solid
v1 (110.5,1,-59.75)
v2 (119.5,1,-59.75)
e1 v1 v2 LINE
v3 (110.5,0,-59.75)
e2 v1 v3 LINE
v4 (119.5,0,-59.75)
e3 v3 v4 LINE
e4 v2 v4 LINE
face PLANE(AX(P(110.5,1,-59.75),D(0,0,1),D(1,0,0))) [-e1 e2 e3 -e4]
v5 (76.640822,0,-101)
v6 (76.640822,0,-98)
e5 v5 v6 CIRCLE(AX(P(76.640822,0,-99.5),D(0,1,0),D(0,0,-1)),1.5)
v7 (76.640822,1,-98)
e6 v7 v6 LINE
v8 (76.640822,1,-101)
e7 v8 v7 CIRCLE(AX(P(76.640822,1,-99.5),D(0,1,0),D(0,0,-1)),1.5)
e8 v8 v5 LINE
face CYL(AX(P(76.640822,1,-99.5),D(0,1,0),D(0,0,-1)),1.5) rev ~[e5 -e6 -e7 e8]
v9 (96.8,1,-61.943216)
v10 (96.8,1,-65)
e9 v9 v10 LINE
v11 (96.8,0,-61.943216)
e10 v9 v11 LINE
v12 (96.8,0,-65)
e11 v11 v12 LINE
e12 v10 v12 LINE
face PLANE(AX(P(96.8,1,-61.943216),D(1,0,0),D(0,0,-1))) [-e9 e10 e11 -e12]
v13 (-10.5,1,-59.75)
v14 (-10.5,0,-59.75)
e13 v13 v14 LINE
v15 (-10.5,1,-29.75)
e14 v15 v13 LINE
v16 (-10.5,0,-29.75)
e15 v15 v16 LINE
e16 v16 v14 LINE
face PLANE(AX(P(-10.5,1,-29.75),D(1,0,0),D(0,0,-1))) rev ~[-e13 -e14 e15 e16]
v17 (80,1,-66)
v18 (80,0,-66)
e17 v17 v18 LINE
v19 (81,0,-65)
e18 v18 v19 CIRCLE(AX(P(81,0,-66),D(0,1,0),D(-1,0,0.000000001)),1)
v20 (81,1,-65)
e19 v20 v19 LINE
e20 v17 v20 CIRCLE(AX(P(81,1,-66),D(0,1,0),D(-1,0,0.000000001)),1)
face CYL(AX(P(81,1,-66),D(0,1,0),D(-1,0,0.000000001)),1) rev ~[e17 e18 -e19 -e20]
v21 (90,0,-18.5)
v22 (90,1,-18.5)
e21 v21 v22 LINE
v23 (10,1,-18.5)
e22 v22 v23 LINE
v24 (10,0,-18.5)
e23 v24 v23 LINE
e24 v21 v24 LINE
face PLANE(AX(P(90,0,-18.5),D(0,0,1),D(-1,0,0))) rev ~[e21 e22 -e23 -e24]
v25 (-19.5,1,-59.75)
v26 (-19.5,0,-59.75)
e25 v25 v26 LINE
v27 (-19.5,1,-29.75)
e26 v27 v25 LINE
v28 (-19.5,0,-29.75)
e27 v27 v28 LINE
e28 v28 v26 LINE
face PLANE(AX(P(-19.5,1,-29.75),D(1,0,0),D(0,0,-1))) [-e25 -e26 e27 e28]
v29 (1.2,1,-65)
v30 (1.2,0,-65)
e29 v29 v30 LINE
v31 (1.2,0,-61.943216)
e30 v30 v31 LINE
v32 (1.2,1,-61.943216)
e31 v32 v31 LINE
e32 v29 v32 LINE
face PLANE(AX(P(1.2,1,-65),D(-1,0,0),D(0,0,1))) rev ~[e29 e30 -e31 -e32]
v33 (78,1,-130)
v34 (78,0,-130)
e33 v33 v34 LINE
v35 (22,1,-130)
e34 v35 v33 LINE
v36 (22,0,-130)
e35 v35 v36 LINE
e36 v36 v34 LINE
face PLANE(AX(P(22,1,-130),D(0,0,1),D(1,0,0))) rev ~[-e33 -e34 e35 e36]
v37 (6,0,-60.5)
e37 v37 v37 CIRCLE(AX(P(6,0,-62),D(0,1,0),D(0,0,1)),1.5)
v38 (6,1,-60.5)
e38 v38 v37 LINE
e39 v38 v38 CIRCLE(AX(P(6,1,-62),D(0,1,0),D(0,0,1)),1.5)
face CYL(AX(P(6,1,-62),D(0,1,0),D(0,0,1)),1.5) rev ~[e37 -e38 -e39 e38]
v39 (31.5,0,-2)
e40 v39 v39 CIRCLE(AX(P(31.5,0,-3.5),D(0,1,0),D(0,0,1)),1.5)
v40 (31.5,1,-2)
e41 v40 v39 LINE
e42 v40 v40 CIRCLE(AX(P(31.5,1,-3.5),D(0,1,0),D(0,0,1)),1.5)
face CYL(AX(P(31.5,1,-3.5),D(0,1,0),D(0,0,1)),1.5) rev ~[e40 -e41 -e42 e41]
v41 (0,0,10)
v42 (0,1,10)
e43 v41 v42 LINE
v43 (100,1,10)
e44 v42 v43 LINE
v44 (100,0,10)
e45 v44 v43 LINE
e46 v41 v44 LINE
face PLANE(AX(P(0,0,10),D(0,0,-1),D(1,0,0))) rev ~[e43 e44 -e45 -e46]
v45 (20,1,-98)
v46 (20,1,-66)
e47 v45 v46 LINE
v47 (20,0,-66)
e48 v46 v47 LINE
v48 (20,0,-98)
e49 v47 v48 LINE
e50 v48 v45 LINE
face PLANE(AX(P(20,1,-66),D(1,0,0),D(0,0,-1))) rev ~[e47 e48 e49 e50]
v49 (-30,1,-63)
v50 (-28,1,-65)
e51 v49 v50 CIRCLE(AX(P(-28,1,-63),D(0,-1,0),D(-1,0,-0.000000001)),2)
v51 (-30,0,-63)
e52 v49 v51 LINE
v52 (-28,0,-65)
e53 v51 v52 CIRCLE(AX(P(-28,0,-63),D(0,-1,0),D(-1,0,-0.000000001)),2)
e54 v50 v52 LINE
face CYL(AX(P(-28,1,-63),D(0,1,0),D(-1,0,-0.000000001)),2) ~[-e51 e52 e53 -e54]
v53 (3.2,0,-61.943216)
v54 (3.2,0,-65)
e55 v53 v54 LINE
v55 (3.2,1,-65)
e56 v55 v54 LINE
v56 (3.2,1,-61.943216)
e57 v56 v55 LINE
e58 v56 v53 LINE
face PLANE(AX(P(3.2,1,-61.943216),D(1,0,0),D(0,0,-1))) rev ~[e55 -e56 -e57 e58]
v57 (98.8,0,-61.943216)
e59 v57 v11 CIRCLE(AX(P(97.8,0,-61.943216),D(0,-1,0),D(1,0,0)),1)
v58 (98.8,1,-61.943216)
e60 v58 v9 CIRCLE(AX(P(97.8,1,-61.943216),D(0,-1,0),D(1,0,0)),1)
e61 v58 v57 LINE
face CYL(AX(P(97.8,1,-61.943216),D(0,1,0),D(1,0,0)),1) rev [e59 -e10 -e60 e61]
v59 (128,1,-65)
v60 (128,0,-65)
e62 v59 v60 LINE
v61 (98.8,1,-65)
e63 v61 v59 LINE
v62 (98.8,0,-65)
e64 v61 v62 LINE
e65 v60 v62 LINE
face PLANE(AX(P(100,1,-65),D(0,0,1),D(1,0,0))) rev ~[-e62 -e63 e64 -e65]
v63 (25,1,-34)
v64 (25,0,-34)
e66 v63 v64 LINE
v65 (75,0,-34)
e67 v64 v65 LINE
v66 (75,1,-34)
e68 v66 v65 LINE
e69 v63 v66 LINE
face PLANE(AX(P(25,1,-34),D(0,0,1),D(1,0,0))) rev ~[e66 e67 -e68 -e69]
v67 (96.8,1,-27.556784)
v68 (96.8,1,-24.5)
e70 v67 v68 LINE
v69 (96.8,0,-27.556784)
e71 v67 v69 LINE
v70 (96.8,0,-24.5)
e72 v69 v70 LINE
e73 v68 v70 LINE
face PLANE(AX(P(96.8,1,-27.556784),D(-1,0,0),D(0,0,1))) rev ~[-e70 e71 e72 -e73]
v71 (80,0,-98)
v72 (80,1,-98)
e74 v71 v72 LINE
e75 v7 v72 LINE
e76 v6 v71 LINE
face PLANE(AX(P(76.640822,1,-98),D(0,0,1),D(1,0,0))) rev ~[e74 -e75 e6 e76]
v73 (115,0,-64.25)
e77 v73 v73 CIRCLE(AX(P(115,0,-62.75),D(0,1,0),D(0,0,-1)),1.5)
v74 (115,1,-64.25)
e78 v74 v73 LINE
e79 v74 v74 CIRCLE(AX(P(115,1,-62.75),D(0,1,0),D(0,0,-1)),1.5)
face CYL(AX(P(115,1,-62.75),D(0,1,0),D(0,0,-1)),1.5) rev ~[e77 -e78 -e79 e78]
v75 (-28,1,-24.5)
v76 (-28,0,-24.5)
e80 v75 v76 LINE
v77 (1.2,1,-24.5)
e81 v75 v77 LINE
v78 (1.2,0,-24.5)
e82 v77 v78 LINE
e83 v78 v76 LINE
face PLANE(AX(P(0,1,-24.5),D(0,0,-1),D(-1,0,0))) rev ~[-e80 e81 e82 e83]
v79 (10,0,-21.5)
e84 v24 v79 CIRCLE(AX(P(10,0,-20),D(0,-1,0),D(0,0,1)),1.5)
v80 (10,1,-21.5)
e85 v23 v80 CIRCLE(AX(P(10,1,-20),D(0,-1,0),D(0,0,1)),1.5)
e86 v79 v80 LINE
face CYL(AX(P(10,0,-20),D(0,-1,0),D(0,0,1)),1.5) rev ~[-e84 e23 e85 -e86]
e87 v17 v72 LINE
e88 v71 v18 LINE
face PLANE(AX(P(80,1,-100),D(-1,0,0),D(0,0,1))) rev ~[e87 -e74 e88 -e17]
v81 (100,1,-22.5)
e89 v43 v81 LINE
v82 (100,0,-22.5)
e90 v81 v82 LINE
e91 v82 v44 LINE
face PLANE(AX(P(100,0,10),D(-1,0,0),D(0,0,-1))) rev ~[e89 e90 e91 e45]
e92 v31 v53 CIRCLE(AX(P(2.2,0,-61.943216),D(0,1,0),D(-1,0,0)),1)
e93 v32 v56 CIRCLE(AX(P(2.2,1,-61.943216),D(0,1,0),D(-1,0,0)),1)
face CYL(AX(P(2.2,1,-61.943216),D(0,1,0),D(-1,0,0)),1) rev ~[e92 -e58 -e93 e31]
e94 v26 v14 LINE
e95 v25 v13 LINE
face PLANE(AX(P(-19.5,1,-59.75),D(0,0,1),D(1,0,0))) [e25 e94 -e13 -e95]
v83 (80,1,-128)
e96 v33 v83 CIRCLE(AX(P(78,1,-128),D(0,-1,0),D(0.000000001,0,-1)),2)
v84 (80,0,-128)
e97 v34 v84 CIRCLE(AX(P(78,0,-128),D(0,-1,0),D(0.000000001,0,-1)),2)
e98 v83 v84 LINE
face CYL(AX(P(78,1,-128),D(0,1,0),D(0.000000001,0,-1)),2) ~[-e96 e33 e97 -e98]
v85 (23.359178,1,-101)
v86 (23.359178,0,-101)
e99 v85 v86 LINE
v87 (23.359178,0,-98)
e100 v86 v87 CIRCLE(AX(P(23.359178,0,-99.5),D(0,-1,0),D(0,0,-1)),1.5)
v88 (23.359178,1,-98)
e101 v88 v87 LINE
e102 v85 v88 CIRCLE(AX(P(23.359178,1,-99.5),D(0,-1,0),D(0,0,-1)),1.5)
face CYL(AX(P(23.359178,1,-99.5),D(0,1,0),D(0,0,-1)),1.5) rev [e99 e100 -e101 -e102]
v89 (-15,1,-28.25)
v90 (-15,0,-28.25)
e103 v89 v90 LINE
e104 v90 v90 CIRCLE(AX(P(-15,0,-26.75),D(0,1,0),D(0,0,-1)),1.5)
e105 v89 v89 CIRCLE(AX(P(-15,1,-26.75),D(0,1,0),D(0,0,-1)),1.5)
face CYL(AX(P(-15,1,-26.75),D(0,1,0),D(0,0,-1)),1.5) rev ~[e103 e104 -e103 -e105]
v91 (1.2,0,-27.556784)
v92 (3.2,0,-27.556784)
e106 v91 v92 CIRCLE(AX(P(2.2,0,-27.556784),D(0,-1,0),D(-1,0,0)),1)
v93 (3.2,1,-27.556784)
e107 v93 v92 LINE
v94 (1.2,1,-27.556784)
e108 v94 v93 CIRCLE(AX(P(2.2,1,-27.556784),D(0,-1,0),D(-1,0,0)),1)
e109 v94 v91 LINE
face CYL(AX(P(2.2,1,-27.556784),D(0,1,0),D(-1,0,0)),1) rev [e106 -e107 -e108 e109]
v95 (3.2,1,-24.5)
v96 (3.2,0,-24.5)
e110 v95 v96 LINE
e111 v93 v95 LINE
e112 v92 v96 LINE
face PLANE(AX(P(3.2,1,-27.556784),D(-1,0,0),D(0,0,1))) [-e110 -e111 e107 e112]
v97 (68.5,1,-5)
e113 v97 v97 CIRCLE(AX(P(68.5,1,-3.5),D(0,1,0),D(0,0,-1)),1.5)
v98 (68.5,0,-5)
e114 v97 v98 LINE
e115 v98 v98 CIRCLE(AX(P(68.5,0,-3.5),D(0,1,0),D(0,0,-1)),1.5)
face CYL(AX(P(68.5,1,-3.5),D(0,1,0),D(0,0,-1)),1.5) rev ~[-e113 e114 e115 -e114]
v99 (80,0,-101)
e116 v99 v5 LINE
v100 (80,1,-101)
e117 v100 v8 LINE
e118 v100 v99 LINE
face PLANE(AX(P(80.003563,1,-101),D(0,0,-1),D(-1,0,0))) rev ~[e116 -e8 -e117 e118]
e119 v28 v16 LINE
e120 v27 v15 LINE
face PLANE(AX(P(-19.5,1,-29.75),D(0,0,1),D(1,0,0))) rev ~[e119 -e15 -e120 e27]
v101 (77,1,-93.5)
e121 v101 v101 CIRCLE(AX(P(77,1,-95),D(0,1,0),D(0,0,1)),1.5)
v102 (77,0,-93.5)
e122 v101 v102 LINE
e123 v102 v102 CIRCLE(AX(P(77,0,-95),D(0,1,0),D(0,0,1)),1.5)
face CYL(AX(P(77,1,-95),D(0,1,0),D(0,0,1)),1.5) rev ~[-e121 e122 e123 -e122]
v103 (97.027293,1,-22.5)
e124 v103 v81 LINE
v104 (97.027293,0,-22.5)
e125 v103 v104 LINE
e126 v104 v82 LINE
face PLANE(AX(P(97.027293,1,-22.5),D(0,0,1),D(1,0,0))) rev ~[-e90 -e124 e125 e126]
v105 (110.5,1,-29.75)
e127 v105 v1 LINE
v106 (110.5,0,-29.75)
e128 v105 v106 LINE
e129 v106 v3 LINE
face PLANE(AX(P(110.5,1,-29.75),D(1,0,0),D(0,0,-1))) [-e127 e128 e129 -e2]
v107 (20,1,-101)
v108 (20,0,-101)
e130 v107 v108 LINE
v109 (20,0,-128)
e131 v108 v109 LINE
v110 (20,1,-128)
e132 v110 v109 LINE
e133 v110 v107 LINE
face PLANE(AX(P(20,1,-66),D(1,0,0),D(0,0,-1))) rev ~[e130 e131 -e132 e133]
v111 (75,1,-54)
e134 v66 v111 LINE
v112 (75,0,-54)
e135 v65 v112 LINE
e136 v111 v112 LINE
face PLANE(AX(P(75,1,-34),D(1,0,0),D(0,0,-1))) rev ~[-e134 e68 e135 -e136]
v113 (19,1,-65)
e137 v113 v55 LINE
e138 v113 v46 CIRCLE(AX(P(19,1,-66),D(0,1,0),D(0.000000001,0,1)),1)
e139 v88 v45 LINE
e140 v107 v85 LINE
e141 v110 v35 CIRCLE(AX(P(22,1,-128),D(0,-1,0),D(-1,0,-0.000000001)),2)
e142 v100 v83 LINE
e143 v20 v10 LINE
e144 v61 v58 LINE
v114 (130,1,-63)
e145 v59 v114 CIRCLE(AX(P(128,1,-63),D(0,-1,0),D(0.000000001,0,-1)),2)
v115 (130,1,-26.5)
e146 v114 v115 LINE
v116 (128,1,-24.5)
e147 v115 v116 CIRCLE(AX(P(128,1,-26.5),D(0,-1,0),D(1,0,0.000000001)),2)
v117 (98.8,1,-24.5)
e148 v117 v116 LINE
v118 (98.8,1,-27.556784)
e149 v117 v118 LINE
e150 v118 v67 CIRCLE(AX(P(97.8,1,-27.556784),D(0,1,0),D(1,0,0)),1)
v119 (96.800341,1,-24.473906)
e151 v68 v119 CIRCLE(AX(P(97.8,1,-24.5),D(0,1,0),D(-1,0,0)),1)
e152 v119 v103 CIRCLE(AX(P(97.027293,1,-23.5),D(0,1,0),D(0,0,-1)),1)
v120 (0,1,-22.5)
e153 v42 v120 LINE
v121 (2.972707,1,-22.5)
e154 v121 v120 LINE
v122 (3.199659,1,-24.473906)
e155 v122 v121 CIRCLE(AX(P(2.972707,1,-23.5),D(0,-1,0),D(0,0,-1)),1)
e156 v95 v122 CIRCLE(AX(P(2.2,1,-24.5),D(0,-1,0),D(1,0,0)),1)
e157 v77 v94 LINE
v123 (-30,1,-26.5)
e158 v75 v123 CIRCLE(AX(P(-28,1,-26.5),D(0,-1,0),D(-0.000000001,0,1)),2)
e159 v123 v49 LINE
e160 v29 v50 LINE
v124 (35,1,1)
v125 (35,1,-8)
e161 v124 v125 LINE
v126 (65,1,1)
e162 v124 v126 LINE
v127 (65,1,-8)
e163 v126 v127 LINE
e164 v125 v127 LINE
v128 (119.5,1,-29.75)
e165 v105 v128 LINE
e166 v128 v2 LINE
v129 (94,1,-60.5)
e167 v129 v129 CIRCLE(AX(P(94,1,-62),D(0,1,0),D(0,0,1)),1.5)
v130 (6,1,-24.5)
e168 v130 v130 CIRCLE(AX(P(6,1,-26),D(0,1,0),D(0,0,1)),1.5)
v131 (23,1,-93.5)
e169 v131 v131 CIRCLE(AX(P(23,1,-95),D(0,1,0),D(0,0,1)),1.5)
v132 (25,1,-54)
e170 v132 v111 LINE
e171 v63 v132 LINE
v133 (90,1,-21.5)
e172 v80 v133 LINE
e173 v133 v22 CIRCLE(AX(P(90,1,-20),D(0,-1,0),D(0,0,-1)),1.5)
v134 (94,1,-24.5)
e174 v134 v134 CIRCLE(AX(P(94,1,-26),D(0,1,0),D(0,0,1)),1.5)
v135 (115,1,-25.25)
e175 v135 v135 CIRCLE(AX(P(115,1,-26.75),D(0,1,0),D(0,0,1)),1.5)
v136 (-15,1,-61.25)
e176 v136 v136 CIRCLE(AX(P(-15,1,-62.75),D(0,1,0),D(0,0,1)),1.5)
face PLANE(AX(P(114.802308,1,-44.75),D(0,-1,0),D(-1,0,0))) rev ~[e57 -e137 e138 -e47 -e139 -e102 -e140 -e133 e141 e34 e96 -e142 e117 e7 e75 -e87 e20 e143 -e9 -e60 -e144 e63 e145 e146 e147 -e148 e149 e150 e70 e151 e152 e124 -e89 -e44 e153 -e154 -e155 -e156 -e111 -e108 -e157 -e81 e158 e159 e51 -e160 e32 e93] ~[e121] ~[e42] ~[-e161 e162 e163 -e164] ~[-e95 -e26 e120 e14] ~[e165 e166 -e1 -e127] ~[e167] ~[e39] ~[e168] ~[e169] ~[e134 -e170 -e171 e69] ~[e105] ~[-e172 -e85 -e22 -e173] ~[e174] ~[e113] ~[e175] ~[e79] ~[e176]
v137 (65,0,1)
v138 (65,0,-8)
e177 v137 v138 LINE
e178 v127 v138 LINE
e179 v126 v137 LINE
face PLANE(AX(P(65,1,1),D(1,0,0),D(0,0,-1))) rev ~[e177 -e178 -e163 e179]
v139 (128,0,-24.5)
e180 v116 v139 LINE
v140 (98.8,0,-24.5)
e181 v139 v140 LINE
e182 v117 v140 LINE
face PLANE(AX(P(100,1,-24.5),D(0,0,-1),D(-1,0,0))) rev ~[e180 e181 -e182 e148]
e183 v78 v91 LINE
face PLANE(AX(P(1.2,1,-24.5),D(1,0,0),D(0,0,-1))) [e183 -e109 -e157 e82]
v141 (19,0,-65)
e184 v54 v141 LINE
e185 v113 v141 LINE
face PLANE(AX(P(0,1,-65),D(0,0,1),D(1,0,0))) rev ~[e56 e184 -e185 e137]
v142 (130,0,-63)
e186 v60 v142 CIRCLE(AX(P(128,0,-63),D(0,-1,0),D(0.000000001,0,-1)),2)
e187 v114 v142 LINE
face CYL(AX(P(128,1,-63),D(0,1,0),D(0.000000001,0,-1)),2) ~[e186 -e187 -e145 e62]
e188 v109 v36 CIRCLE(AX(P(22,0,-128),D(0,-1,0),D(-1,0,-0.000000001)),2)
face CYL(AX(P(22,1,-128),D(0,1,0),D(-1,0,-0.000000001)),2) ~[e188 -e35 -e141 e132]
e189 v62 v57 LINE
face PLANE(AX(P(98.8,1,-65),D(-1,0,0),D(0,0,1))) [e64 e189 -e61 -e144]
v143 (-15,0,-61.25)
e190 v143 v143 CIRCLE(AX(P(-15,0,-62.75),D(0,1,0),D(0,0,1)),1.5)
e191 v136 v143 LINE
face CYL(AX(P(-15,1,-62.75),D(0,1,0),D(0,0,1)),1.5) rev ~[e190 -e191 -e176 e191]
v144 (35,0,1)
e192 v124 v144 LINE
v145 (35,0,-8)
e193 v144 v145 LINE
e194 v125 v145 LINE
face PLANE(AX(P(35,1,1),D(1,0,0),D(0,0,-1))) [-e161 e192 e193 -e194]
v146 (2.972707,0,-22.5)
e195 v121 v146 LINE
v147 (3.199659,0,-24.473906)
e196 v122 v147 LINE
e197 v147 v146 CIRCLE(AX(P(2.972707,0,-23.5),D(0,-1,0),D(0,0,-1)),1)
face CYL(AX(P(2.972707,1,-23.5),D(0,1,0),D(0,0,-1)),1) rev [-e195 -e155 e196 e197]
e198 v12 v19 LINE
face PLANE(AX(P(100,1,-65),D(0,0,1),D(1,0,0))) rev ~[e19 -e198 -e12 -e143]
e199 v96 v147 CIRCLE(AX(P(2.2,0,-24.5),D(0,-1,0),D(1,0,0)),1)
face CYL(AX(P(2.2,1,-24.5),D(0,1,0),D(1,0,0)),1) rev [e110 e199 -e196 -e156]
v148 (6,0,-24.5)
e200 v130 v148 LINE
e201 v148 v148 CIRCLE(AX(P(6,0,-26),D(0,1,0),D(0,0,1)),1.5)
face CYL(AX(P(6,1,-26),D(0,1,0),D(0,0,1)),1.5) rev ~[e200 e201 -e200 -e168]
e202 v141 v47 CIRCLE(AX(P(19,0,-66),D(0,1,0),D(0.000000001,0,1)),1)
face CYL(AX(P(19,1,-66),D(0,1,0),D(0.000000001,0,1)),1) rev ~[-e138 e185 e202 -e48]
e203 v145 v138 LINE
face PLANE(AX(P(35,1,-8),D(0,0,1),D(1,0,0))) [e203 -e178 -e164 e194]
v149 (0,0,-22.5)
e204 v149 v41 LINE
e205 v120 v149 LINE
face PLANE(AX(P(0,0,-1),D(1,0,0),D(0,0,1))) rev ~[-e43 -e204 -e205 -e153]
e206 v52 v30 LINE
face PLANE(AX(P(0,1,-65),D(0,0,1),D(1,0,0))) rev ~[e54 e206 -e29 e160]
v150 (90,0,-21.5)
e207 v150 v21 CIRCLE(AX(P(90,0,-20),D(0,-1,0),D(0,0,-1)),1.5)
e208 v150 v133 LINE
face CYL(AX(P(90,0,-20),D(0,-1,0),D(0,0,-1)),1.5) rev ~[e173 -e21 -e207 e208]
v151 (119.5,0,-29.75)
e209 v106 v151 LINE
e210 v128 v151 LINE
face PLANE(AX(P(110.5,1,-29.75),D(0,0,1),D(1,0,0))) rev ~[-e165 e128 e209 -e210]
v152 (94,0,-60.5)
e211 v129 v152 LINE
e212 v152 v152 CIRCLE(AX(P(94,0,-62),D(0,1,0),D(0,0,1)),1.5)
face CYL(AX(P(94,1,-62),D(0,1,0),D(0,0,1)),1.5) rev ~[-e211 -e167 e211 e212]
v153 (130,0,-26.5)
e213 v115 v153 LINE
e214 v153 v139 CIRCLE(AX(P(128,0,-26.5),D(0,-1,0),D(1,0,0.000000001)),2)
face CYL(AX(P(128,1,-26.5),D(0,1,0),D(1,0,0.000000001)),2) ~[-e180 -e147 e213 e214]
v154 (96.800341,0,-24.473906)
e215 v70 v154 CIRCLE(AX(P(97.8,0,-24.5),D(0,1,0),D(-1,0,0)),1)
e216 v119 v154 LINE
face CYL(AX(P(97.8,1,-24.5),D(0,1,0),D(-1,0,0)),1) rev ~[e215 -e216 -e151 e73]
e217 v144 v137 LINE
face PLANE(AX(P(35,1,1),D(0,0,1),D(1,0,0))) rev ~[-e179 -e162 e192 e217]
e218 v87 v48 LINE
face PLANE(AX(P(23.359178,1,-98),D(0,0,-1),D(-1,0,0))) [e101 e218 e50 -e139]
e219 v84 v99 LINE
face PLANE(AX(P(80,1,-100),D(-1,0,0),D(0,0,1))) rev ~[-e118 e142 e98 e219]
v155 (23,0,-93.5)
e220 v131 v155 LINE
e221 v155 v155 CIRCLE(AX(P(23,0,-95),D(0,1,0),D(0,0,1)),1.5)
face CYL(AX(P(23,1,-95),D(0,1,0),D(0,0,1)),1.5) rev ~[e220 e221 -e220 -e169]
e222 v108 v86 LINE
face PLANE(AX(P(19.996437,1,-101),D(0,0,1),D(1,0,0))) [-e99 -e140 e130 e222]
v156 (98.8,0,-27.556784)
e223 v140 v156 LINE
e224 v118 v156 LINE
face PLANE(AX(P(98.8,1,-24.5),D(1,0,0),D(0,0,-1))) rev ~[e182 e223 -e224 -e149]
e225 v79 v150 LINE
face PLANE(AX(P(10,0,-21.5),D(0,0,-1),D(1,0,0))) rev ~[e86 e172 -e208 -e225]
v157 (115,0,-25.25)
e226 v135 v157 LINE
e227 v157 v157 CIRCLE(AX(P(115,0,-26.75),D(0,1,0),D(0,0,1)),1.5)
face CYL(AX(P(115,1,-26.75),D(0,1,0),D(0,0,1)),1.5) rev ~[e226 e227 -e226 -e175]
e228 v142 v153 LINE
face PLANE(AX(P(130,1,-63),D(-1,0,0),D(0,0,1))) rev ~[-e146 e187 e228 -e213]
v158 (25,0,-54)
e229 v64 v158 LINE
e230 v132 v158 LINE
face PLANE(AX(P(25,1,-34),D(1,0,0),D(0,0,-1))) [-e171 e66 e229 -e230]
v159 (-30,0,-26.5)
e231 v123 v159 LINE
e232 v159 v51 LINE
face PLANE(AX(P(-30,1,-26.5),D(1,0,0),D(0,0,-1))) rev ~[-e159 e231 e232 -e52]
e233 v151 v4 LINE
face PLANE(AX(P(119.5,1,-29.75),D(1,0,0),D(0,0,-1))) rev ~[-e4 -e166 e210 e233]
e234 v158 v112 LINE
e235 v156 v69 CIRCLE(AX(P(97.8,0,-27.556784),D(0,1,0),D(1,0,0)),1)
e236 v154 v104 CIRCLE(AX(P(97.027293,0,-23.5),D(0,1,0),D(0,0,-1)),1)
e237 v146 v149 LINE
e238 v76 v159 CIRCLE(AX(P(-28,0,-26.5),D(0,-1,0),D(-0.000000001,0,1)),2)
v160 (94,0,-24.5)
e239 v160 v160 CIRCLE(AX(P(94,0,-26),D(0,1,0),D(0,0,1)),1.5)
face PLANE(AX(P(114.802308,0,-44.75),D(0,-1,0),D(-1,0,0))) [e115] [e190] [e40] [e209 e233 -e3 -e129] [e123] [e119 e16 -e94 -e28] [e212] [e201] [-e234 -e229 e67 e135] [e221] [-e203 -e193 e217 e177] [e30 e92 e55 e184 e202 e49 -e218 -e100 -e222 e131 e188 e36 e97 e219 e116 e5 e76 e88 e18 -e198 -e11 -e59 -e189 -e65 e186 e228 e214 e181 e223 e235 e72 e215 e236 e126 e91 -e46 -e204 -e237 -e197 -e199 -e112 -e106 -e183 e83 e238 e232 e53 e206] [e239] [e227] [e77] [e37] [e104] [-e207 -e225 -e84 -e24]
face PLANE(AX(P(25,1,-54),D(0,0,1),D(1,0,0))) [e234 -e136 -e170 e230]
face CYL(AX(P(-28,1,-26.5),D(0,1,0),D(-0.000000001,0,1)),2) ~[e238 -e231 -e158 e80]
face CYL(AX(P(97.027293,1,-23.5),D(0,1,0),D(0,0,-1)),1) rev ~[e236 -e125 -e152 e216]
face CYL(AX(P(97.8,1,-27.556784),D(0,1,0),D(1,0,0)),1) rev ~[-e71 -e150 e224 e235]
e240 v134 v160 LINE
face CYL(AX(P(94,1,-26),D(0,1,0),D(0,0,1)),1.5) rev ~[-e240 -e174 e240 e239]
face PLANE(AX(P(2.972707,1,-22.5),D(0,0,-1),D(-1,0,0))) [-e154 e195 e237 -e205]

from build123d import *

# Parameters (mm, degrees)
BOSS_EXTRUDE1_DEPTH = 1
CUT_EXTRUDE2_DEPTH  = 1
SKETCH3_R           = 1.5
CUT_EXTRUDE3_DEPTH  = 1
BOSS_EXTRUDE2_START = -1
BOSS_EXTRUDE2_DEPTH = 1
BOSS_EXTRUDE3_DEPTH = 1
SKETCH6_R           = 1.5
SKETCH6_W           = 9
SKETCH6_H           = 30
SKETCH6_W_2         = 30
SKETCH6_H_2         = 9
CUT_EXTRUDE4_DEPTH  = 1
CUT_EXTRUDE5_DEPTH  = 1
SKETCH8_W           = 50
SKETCH8_H           = 20
CUT_EXTRUDE6_DEPTH  = 1


with BuildPart() as part:
    # Sketch1 → Boss-Extrude1 (new body)
    with BuildSketch(Plane(origin=(0, 0, 0), x_dir=(1, 0, 0), z_dir=(0, 1, 0))):
        with BuildLine():
            Line((1, 0), (99, 0))
            ThreePointArc((99, 0), (99.707106781, 0.292893219), (100, 1))
            Line((100, 1), (100, 99))
            ThreePointArc((100, 99), (99.707106781, 99.707106781), (99, 100))
            Line((99, 100), (1, 100))
            ThreePointArc((1, 100), (0.292893219, 99.707106781), (0, 99))
            Line((0, 99), (0, 1))
            ThreePointArc((0, 1), (0.292893219, 0.292893219), (1, 0))
        make_face()
        with BuildLine():
            Line((10, 21.5), (90, 21.5))
            ThreePointArc((90, 21.5), (91.5, 20), (90, 18.5))
            Line((90, 18.5), (10, 18.5))
            ThreePointArc((10, 18.5), (8.5, 20), (10, 21.5))
        make_face(mode=Mode.SUBTRACT)
    extrude(amount=BOSS_EXTRUDE1_DEPTH)

    # Sketch2 → Cut-Extrude2 (cut)
    with BuildSketch(Plane(origin=(0, 1, 0), x_dir=(1, 0, 0), z_dir=(0, 1, 0))):
        with BuildLine():
            Line((0, 100), (0, 65))
            Line((0, 65), (19, 65))
            ThreePointArc((19, 65), (19.707106781, 65.292893219), (20, 66))
            Line((20, 66), (20, 100))
            Line((20, 100), (0, 100))
        make_face()
        with BuildLine():
            Line((100, 65), (100, 100))
            Line((100, 100), (80, 100))
            Line((80, 100), (80, 66))
            ThreePointArc((80, 66), (80.292893219, 65.292893219), (81, 65))
            Line((81, 65), (100, 65))
        make_face()
    extrude(amount=-CUT_EXTRUDE2_DEPTH, mode=Mode.SUBTRACT)

    # Sketch3 → Cut-Extrude3 (cut)
    with BuildSketch(Plane(origin=(0, 1, 0), x_dir=(1, 0, 0), z_dir=(0, 1, 0))):
        with Locations(Location((6, 26, 0), (0, 0, 270))):
            Circle(SKETCH3_R)
        with Locations(Location((23, 95, 0), (0, 0, 270))):
            Circle(SKETCH3_R)
        with Locations(Location((77, 95, 0), (0, 0, 270))):
            Circle(SKETCH3_R)
        with Locations(Location((94, 26, 0), (0, 0, 270))):
            Circle(SKETCH3_R)
        with Locations(Location((6, 62, 0), (0, 0, 270))):
            Circle(SKETCH3_R)
        with Locations(Location((94, 62, 0), (0, 0, 270))):
            Circle(SKETCH3_R)
    extrude(amount=-CUT_EXTRUDE3_DEPTH, mode=Mode.SUBTRACT)

    # Sketch4 → Boss-Extrude2 (add)
    with BuildSketch(Plane(origin=(0, 1, 0), x_dir=(1, 0, 0), z_dir=(0, 1, 0)).offset(BOSS_EXTRUDE2_START)):
        with BuildLine():
            Line((0, 1), (0, -10))
            Line((0, -10), (100, -10))
            Line((100, -10), (100, 1))
            ThreePointArc((100, 1), (99.707106781, 0.292893219), (99, 0))
            Line((99, 0), (1, 0))
            ThreePointArc((1, 0), (0.292893219, 0.292893219), (0, 1))
        make_face()
    extrude(amount=BOSS_EXTRUDE2_DEPTH)

    # Sketch5 → Boss-Extrude3 (add)
    with BuildSketch(Plane(origin=(0, 1, 0), x_dir=(1, 0, 0), z_dir=(0, 1, 0))):
        with BuildLine():
            Line((100, 65), (128, 65))
            ThreePointArc((128, 65), (129.414213562, 64.414213562), (130, 63))
            Line((130, 63), (130, 26.5))
            ThreePointArc((130, 26.5), (129.414213562, 25.085786438), (128, 24.5))
            Line((128, 24.5), (100, 24.5))
            Line((100, 24.5), (100, 65))
        make_face()
        with BuildLine():
            Line((0, 24.5), (-28, 24.5))
            ThreePointArc((-28, 24.5), (-29.414213562, 25.085786438), (-30, 26.5))
            Line((-30, 26.5), (-30, 63))
            ThreePointArc((-30, 63), (-29.414213562, 64.414213562), (-28, 65))
            Line((-28, 65), (0, 65))
            Line((0, 65), (0, 24.5))
        make_face()
        with BuildLine():
            Line((80, 100), (20, 100))
            Line((20, 100), (20, 128))
            ThreePointArc((20, 128), (20.585786438, 129.414213562), (22, 130))
            Line((22, 130), (78, 130))
            ThreePointArc((78, 130), (79.414213562, 129.414213562), (80, 128))
            Line((80, 128), (80, 100))
        make_face()
    extrude(amount=-BOSS_EXTRUDE3_DEPTH)

    # Sketch6 → Cut-Extrude4 (cut)
    with BuildSketch(Plane(origin=(0, 1, 0), x_dir=(1, 0, 0), z_dir=(0, 1, 0))):
        with Locations(Location((31.5, 3.5, 0), (0, 0, 270))):
            Circle(SKETCH6_R)
        with Locations(Location((-15, 62.75, 0), (0, 0, 270))):
            Circle(SKETCH6_R)
        with Locations(Location((-15, 26.75, 0), (0, 0, 90))):
            Circle(SKETCH6_R)
        with Locations(Location((68.5, 3.5, 0), (0, 0, 90))):
            Circle(SKETCH6_R)
        with Locations(Location((115, 26.75, 0), (0, 0, 270))):
            Circle(SKETCH6_R)
        with Locations(Location((115, 62.75, 0), (0, 0, 90))):
            Circle(SKETCH6_R)
        with Locations((115, 44.75)):
            Rectangle(SKETCH6_W, SKETCH6_H)
        with Locations((-15, 44.75)):
            Rectangle(SKETCH6_W, SKETCH6_H)
        with Locations((50, 3.5)):
            Rectangle(SKETCH6_W_2, SKETCH6_H_2)
    extrude(amount=-CUT_EXTRUDE4_DEPTH, mode=Mode.SUBTRACT)

    # Sketch7 → Cut-Extrude5 (cut)
    with BuildSketch(Plane(origin=(0, 1, 0), x_dir=(1, 0, 0), z_dir=(0, 1, 0))):
        with BuildLine():
            Line((0, 24.5), (2.972707359, 24.5))
            ThreePointArc((2.972707359, 24.5), (3.972707359, 23.5), (2.972707359, 22.5))
            Line((2.972707359, 22.5), (0, 22.5))
            ThreePointArc((0, 22.5), (-1, 23.5), (0, 24.5))
        make_face()
        with BuildLine():
            Line((19.996436831, 101), (23.359178087, 101))
            ThreePointArc((23.359178087, 101), (24.859178087, 99.5), (23.359178087, 98))
            Line((23.359178087, 98), (19.996436831, 98))
            ThreePointArc((19.996436831, 98), (18.496436831, 99.5), (19.996436831, 101))
        make_face()
        with BuildLine():
            Line((1.2, 24.5), (1.2, 27.556784127))
            ThreePointArc((1.2, 27.556784127), (2.2, 28.556784127), (3.2, 27.556784127))
            Line((3.2, 27.556784127), (3.2, 24.5))
            ThreePointArc((3.2, 24.5), (2.2, 23.5), (1.2, 24.5))
        make_face()
        with BuildLine():
            Line((1.2, 65), (1.2, 61.943215873))
            ThreePointArc((1.2, 61.943215873), (2.2, 60.943215873), (3.2, 61.943215873))
            Line((3.2, 61.943215873), (3.2, 65))
            ThreePointArc((3.2, 65), (2.2, 66), (1.2, 65))
        make_face()
        with BuildLine():
            Line((80.003563169, 101), (76.640821913, 101))
            ThreePointArc((76.640821913, 101), (75.140821913, 99.5), (76.640821913, 98))
            Line((76.640821913, 98), (80.003563169, 98))
            ThreePointArc((80.003563169, 98), (81.503563169, 99.5), (80.003563169, 101))
        make_face()
        with BuildLine():
            Line((98.8, 24.5), (98.8, 27.556784127))
            ThreePointArc((98.8, 27.556784127), (97.8, 28.556784127), (96.8, 27.556784127))
            Line((96.8, 27.556784127), (96.8, 24.5))
            ThreePointArc((96.8, 24.5), (97.8, 23.5), (98.8, 24.5))
        make_face()
        with BuildLine():
            Line((100, 24.5), (97.027292641, 24.5))
            ThreePointArc((97.027292641, 24.5), (96.027292641, 23.5), (97.027292641, 22.5))
            Line((97.027292641, 22.5), (100, 22.5))
            ThreePointArc((100, 22.5), (101, 23.5), (100, 24.5))
        make_face()
        with BuildLine():
            Line((98.8, 65), (98.8, 61.943215873))
            ThreePointArc((98.8, 61.943215873), (97.8, 60.943215873), (96.8, 61.943215873))
            Line((96.8, 61.943215873), (96.8, 65))
            ThreePointArc((96.8, 65), (97.8, 66), (98.8, 65))
        make_face()
    extrude(amount=-CUT_EXTRUDE5_DEPTH, mode=Mode.SUBTRACT)

    # Sketch8 → Cut-Extrude6 (cut)
    with BuildSketch(Plane(origin=(0, 1, 0), x_dir=(1, 0, 0), z_dir=(0, 1, 0))):
        with Locations((50, 44)):
            Rectangle(SKETCH8_W, SKETCH8_H)
    extrude(amount=-CUT_EXTRUDE6_DEPTH, mode=Mode.SUBTRACT)


solid = part.part
